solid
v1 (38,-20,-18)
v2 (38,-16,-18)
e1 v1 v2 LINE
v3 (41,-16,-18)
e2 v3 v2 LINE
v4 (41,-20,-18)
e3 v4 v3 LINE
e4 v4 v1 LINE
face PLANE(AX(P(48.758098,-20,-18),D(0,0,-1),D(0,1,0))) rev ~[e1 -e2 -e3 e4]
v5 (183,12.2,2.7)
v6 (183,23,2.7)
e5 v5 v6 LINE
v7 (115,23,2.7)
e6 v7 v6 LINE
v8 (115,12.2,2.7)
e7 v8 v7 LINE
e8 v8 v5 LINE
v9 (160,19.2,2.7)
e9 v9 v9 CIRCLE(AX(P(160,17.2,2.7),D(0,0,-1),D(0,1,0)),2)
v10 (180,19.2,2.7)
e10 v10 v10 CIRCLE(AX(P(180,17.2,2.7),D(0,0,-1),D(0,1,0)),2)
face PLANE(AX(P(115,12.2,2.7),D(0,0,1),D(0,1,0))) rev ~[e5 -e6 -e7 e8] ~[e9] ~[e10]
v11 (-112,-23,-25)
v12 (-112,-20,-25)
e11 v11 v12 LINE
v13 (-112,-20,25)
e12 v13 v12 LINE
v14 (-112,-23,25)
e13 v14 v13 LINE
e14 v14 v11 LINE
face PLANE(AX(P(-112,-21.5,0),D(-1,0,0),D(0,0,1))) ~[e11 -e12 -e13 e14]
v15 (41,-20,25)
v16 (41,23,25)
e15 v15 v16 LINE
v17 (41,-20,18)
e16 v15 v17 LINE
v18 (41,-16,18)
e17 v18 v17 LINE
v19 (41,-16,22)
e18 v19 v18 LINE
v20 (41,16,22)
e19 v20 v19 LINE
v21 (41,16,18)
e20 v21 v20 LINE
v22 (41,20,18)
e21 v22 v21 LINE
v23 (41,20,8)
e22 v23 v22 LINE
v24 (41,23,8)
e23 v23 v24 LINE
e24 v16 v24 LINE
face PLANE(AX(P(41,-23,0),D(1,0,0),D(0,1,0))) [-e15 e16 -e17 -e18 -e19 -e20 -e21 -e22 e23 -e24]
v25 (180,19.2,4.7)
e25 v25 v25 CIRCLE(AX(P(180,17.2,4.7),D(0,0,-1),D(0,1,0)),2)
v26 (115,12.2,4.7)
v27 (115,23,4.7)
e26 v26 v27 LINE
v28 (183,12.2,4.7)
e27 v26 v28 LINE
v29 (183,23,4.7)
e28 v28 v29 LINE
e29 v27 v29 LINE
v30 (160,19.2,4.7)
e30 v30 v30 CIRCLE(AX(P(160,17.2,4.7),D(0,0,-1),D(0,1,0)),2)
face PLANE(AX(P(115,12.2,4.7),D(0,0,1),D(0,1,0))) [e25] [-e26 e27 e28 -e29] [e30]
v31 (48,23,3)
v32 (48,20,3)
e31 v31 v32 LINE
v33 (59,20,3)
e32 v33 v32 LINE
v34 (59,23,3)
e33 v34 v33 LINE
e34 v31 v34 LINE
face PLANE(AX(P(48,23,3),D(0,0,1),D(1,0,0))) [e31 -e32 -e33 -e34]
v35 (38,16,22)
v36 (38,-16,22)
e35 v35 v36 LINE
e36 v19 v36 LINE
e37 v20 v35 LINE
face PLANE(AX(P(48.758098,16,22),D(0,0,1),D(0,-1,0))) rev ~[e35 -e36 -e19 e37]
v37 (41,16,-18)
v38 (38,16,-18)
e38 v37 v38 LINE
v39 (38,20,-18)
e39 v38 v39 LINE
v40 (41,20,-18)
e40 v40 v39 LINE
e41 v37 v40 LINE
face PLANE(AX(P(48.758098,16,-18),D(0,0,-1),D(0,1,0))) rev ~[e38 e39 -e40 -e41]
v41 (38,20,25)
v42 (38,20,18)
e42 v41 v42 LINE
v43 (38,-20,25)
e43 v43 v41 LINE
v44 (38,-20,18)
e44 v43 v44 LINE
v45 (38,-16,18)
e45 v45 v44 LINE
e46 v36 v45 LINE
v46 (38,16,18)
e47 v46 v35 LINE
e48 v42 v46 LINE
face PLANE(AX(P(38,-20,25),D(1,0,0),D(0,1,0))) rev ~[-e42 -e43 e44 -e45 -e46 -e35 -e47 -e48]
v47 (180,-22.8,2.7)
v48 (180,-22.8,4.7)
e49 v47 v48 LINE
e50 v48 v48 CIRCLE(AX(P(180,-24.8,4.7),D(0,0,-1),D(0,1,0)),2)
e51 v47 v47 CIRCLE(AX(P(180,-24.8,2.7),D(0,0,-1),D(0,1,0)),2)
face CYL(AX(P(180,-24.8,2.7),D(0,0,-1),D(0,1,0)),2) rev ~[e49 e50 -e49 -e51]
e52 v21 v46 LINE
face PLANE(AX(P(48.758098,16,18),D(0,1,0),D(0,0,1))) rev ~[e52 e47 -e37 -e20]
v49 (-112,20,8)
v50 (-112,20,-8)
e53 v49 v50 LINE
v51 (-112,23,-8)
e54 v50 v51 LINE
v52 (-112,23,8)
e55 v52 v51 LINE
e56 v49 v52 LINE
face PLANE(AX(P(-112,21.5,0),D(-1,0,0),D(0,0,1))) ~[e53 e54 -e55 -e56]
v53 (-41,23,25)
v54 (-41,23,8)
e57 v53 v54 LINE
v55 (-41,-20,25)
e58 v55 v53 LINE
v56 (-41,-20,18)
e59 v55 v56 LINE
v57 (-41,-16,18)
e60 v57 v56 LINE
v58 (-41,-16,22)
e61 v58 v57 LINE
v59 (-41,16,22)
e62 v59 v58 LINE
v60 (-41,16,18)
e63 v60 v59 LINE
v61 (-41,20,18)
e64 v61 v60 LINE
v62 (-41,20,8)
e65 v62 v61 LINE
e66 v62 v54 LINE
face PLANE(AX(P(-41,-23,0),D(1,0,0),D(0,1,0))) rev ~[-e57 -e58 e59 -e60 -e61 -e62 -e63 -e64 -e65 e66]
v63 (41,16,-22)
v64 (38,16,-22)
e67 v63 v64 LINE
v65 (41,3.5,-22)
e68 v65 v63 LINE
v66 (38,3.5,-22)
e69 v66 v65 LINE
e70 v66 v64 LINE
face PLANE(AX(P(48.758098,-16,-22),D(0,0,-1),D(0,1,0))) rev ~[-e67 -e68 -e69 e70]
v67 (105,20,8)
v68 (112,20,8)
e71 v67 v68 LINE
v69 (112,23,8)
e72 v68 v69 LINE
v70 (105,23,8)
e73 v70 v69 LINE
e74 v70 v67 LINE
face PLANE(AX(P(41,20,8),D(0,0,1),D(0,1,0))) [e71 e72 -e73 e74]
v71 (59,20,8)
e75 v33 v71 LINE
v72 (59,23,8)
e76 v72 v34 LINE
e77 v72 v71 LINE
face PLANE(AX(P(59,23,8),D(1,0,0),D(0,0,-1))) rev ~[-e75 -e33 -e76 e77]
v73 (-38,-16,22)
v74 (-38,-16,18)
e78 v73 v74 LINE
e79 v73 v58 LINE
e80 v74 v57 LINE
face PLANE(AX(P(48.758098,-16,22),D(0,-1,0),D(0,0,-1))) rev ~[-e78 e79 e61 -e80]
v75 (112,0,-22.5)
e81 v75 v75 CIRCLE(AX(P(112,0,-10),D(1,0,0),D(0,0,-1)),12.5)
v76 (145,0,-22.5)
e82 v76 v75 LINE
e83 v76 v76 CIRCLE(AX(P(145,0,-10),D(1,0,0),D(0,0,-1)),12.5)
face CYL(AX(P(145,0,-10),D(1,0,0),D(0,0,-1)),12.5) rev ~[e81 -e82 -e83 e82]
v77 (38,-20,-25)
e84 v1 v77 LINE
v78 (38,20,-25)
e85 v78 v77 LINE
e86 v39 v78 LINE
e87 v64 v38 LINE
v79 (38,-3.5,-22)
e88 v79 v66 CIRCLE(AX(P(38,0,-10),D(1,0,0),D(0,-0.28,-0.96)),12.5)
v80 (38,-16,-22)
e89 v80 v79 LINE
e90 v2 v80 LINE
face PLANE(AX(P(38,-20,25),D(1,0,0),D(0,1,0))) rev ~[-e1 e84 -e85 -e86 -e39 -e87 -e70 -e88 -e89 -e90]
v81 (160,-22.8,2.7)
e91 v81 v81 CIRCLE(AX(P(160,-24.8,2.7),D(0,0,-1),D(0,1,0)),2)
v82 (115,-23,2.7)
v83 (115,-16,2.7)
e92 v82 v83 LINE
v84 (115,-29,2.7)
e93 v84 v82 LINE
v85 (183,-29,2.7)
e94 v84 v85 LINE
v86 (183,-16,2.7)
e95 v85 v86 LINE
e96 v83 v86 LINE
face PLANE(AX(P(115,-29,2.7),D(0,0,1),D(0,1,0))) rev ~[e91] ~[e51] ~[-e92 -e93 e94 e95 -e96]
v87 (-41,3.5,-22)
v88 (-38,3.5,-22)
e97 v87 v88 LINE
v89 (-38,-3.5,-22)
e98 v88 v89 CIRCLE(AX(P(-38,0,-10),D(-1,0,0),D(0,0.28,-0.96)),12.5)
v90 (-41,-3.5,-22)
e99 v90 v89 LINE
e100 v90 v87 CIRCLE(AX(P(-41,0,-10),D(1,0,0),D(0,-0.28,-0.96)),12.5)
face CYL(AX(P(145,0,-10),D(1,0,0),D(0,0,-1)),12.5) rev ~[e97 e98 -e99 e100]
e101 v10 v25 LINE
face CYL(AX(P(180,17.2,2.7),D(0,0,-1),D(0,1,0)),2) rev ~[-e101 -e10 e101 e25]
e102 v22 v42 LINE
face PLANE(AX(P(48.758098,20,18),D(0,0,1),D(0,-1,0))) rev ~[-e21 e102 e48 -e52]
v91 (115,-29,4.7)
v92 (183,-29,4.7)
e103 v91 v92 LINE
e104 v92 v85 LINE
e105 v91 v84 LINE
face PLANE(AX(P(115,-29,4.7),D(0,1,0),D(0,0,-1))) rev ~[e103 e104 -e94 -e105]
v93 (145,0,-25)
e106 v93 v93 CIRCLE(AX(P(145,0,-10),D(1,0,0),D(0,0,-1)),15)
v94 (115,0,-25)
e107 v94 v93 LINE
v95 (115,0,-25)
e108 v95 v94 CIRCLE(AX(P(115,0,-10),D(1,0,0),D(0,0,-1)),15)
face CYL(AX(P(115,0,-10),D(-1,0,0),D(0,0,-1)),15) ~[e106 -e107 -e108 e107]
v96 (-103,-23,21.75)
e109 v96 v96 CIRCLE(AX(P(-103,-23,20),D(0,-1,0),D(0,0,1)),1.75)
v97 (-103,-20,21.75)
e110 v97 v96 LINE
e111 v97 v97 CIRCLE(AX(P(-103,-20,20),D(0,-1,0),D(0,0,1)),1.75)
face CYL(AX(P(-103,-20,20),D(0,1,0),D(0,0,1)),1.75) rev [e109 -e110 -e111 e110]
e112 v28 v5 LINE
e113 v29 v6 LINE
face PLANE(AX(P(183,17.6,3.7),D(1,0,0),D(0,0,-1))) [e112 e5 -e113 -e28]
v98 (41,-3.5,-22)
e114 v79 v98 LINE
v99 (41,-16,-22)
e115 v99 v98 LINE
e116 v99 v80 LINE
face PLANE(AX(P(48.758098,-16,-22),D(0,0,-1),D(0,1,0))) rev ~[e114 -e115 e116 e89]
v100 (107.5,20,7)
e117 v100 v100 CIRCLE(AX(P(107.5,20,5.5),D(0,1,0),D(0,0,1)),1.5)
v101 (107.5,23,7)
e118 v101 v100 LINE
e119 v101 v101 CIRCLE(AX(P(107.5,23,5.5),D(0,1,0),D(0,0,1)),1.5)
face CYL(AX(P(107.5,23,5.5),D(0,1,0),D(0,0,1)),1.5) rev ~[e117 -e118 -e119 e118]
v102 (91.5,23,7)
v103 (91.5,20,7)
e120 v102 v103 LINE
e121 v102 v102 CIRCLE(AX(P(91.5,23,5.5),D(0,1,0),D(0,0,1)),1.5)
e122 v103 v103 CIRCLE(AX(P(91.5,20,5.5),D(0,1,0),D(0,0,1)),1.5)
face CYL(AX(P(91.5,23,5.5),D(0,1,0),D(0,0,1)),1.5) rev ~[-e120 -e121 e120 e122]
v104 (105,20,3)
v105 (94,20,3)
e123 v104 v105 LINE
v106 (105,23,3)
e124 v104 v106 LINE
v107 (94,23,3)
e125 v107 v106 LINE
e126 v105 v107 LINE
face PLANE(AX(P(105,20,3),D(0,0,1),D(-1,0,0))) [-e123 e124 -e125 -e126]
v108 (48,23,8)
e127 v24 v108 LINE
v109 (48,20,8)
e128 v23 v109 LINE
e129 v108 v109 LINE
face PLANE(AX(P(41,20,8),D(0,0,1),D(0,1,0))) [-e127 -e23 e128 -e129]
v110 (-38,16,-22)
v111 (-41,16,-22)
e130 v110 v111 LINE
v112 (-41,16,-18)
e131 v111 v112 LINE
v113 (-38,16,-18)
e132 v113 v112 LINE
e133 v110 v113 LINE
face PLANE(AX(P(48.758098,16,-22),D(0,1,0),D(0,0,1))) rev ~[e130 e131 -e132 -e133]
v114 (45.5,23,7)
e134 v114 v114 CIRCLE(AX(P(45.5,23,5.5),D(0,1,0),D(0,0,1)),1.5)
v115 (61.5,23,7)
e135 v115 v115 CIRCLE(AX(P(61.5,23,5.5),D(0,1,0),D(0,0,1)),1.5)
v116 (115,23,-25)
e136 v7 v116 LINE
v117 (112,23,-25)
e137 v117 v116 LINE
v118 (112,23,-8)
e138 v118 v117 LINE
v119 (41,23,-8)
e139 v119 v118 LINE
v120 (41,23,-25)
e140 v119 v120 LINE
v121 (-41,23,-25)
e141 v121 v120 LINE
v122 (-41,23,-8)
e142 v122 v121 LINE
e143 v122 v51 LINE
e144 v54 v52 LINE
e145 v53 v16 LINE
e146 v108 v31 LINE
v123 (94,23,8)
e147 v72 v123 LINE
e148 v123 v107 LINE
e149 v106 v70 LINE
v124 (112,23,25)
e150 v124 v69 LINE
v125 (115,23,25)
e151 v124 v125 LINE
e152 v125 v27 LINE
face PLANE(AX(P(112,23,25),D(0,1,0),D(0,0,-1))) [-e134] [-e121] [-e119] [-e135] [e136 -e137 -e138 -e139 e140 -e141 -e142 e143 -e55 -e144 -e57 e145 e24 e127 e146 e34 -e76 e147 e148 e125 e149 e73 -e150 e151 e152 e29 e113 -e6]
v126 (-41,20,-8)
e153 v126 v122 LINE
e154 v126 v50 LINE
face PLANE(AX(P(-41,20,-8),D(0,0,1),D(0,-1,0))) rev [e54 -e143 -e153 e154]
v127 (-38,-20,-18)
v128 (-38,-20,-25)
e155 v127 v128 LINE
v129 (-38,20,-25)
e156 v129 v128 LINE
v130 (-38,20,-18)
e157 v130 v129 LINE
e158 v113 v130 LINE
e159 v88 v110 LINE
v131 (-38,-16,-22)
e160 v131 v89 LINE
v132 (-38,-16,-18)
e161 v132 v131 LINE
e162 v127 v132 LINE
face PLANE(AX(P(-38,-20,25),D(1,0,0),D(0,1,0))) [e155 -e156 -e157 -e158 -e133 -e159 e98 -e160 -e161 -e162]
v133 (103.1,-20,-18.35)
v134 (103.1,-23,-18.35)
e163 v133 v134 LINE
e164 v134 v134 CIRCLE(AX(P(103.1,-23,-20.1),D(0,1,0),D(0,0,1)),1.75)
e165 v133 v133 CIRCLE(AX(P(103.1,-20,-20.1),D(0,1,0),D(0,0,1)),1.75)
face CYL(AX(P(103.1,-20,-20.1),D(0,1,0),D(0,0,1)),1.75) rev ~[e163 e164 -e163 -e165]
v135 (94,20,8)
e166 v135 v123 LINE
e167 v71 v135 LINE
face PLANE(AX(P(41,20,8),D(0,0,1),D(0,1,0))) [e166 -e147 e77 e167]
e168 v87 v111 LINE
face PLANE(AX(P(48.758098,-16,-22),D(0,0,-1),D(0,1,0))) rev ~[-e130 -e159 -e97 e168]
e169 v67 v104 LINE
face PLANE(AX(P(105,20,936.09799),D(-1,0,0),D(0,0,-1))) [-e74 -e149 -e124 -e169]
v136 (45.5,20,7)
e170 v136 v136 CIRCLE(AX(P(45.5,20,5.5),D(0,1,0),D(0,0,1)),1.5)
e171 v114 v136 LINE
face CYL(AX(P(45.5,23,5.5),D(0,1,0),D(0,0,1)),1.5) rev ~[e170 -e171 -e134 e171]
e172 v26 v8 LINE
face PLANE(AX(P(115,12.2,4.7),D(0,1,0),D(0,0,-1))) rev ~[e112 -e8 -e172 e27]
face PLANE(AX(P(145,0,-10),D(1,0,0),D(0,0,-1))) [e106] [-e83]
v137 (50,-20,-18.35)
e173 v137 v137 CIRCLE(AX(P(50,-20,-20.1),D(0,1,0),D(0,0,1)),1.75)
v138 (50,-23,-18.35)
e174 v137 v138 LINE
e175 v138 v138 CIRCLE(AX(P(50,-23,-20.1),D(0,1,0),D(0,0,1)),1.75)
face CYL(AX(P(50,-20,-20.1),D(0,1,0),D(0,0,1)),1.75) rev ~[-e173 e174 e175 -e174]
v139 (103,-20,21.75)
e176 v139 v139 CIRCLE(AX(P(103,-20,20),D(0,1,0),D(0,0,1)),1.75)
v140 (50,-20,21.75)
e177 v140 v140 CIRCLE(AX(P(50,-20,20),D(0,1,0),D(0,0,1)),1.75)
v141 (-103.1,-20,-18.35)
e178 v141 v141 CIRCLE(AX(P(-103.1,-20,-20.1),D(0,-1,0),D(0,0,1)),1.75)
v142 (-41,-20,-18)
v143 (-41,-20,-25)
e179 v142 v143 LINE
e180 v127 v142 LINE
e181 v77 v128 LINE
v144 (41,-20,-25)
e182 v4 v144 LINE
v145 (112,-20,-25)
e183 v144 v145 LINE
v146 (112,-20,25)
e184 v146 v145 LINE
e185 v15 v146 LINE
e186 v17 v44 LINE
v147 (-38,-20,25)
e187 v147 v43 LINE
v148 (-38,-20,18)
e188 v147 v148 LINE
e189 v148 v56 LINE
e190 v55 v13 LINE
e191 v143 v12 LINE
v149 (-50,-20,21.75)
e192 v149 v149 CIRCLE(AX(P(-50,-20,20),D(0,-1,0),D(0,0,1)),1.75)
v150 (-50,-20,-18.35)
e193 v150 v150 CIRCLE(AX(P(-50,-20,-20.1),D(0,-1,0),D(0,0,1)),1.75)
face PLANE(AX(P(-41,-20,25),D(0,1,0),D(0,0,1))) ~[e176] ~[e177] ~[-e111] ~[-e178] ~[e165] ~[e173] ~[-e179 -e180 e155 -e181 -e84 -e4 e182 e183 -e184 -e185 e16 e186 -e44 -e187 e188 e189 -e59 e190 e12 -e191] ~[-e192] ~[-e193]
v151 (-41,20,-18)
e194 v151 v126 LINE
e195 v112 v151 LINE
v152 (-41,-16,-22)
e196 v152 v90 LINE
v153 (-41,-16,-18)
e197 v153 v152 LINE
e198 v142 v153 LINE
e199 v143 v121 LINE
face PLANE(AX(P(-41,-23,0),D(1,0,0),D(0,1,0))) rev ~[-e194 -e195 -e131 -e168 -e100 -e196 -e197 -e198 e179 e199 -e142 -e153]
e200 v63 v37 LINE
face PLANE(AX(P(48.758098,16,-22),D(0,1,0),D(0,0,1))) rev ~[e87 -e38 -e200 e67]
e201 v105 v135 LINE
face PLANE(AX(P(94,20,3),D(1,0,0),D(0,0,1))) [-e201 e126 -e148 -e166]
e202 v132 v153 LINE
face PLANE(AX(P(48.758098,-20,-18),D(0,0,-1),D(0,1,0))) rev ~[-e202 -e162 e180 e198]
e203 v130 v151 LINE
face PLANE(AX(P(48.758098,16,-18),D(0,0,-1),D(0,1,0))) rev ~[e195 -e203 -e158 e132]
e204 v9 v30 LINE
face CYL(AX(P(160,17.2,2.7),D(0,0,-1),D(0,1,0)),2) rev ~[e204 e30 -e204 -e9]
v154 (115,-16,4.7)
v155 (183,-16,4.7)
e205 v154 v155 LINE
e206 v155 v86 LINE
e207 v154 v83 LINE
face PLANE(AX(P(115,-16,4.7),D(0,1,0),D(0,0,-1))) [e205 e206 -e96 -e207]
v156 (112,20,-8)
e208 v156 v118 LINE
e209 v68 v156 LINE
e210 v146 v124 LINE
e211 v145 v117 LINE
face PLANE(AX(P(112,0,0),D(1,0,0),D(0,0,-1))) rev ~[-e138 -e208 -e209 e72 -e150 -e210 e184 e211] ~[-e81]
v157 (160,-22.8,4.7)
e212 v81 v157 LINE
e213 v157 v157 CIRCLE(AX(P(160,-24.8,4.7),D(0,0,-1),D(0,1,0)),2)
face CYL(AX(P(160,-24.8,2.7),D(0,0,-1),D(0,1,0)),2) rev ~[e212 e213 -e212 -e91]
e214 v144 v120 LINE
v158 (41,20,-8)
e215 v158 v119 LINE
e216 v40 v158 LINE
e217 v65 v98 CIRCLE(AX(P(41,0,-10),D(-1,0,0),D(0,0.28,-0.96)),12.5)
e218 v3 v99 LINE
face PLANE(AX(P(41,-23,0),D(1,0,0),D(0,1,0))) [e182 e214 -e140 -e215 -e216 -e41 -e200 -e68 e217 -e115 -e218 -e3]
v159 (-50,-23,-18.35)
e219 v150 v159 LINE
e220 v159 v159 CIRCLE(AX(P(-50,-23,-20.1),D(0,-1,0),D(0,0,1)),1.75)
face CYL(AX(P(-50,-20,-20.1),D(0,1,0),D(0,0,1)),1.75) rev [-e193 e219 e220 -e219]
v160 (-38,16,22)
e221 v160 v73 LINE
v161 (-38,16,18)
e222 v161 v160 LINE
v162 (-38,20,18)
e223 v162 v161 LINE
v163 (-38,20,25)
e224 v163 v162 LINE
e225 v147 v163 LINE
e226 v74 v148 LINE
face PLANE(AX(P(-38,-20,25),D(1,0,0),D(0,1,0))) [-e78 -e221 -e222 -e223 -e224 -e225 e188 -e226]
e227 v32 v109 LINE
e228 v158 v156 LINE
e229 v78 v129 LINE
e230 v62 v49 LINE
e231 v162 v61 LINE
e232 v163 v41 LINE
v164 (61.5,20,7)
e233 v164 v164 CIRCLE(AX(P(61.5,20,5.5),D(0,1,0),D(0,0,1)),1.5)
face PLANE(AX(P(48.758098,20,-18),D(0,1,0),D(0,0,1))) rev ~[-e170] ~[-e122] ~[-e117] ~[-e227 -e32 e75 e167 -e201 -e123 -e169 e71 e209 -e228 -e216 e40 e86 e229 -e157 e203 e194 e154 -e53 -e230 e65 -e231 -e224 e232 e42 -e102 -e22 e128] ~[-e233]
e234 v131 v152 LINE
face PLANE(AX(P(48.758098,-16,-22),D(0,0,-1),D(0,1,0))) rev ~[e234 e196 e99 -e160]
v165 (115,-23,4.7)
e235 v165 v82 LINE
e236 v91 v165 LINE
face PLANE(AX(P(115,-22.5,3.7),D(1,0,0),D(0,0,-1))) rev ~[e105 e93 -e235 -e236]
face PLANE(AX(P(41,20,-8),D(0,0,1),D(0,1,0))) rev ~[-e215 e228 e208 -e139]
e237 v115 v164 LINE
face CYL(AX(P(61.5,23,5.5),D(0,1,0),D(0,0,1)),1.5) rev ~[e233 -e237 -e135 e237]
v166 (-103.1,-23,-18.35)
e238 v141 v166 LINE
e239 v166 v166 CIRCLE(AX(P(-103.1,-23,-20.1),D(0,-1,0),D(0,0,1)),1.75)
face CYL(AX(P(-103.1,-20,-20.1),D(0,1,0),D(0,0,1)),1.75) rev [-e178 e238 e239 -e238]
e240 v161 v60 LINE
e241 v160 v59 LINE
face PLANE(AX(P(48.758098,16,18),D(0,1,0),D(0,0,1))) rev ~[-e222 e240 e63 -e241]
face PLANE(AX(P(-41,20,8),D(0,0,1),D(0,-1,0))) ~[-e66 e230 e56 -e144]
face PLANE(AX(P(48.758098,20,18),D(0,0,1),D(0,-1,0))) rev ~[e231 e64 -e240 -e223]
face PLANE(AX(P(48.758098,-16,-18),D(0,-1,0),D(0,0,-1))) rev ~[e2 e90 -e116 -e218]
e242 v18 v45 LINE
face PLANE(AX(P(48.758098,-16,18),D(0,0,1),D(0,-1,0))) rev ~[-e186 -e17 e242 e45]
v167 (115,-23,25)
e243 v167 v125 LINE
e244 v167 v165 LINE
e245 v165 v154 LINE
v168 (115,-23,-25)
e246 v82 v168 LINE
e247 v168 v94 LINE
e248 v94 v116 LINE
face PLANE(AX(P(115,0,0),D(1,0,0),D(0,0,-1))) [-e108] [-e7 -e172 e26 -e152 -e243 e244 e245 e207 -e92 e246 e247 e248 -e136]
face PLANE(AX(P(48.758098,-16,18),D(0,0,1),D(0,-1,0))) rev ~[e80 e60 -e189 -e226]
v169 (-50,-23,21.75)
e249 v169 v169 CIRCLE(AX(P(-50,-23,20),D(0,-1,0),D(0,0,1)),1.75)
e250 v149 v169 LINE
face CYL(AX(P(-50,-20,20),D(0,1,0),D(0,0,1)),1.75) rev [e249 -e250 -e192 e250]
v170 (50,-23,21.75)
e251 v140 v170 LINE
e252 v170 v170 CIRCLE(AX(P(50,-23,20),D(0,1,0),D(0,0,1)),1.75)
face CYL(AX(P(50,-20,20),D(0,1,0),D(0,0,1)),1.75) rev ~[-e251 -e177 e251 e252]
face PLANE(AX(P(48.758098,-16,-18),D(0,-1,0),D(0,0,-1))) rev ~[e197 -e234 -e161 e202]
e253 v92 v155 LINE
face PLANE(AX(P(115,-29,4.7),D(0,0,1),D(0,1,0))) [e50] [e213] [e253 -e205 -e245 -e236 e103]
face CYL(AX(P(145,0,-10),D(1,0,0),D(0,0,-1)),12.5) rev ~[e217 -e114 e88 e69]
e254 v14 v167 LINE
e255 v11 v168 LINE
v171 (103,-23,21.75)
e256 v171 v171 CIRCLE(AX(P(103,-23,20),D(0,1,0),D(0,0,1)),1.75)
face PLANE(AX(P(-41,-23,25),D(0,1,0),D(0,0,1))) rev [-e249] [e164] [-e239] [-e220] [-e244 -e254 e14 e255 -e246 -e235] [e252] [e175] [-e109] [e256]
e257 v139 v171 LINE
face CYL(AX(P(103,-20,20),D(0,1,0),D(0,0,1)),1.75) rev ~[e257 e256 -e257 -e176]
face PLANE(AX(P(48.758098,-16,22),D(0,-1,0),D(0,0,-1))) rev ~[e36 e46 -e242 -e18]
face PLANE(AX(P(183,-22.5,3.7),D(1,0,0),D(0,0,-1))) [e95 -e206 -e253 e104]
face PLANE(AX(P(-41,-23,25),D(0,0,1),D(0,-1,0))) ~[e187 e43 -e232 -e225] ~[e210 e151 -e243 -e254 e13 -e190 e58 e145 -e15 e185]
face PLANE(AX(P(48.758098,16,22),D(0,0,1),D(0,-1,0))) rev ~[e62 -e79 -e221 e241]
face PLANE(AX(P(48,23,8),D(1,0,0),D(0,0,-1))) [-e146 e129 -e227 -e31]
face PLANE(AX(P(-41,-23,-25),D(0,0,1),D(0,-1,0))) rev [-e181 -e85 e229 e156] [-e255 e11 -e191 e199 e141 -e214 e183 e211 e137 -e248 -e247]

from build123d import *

# Parameters (mm, degrees)
SKETCH1_W               = 82
SKETCH1_H               = 46
BOSS_EXTRUDE1_DEPTH     = 25
CUT_EXTRUDE1_REACH      = 70.629
SKETCH2_W               = 76
SKETCH2_H               = 40
CUT_EXTRUDE2_DEPTH      = 89.758098222
CUT_EXTRUDE2_DEPTH_BACK = 89.758098222
SKETCH4_W               = 50
SKETCH4_H               = 3
BOSS_EXTRUDE2_DEPTH     = 71
CUT_EXTRUDE3_REACH      = 124.548
SKETCH5_R               = 1.75
SKETCH7_W               = 16
SKETCH7_H               = 3
BOSS_EXTRUDE4_DEPTH     = 71
SKETCH8_W               = 50
SKETCH8_H               = 46
BOSS_EXTRUDE5_DEPTH     = 3
CUT_EXTRUDE4_DEPTH      = 127.356638132
CUT_EXTRUDE4_DEPTH_BACK = 3
CUT_EXTRUDE5_REACH      = 128.357
SKETCH10_W              = 11
SKETCH10_H              = 5
CUT_EXTRUDE6_REACH      = 128.357
SKETCH11_R              = 1.5
SKETCH12_R              = 15
BOSS_EXTRUDE6_DEPTH     = 30
SKETCH13_R              = 12.5
CUT_EXTRUDE7_DEPTH      = 190.076704012
SKETCH14_W              = 2
SKETCH14_H              = 10.8
SKETCH14_H_2            = 13
BOSS_EXTRUDE7_DEPTH     = 68
CUT_EXTRUDE8_REACH      = 189.343
SKETCH15_R              = 2


with BuildPart() as part:
    # Sketch1 → Boss-Extrude1 (new, symmetric)
    with BuildSketch(Plane.XY):
        Rectangle(SKETCH1_W, SKETCH1_H)
    extrude(amount=BOSS_EXTRUDE1_DEPTH, both=True)

    # Sketch2 → Cut-Extrude1 (cut, up to next)
    with BuildSketch(Plane.XY.offset(25), mode=Mode.PRIVATE) as cut_extrude1_sk1:
        Rectangle(SKETCH2_W, SKETCH2_H)
    cut_extrude1_tool1 = extrude(cut_extrude1_sk1.sketch, amount=-CUT_EXTRUDE1_REACH, mode=Mode.PRIVATE) & part.part
    add(cut_extrude1_tool1.solids().sort_by_distance((0, 0, 25))[0], mode=Mode.SUBTRACT)

    # Sketch3 → Cut-Extrude2 (cut, two sides: drawn at the far end of the back side and taken through both)
    with BuildSketch(Plane.ZY.offset(41).offset(-CUT_EXTRUDE2_DEPTH_BACK)):
        Polygon((-18, 16), (-18, 20), (18, 20), (18, 16), (22, 16), (22, -16), (18, -16), (18, -20), (-18, -20), (-18, -16), (-22, -16), (-22, 16), align=None)
    extrude(amount=CUT_EXTRUDE2_DEPTH + CUT_EXTRUDE2_DEPTH_BACK, mode=Mode.SUBTRACT)

    # Sketch4 → Boss-Extrude2 (add)
    with BuildSketch(Plane(origin=(41, 0, 0), x_dir=(0, 0, -1), z_dir=(1, 0, 0))):
        with Locations((0, -21.5)):
            Rectangle(SKETCH4_W, SKETCH4_H)
    boss_extrude2 = extrude(amount=BOSS_EXTRUDE2_DEPTH)

    # Sketch5 → Cut-Extrude3 (cut, up to next)
    with BuildSketch(Plane(origin=(0, -20, 0), x_dir=(1, 0, 0), z_dir=(0, 1, 0)), mode=Mode.PRIVATE) as cut_extrude3_sk1:
        with Locations(Location((103.1, 20.1, 0), (0, 0, 270))):
            Circle(SKETCH5_R)
    cut_extrude3_tool1 = extrude(cut_extrude3_sk1.sketch, amount=-CUT_EXTRUDE3_REACH, mode=Mode.PRIVATE) & part.part
    # Sketch5 → Cut-Extrude3 (cut, up to next)
    with BuildSketch(Plane(origin=(0, -20, 0), x_dir=(1, 0, 0), z_dir=(0, 1, 0)), mode=Mode.PRIVATE) as cut_extrude3_sk2:
        with Locations(Location((103, -20, 0), (0, 0, 270))):
            Circle(SKETCH5_R)
    cut_extrude3_tool2 = extrude(cut_extrude3_sk2.sketch, amount=-CUT_EXTRUDE3_REACH, mode=Mode.PRIVATE) & part.part
    # Sketch5 → Cut-Extrude3 (cut, up to next)
    with BuildSketch(Plane(origin=(0, -20, 0), x_dir=(1, 0, 0), z_dir=(0, 1, 0)), mode=Mode.PRIVATE) as cut_extrude3_sk3:
        with Locations(Location((50, 20.1, 0), (0, 0, 270))):
            Circle(SKETCH5_R)
    cut_extrude3_tool3 = extrude(cut_extrude3_sk3.sketch, amount=-CUT_EXTRUDE3_REACH, mode=Mode.PRIVATE) & part.part
    # Sketch5 → Cut-Extrude3 (cut, up to next)
    with BuildSketch(Plane(origin=(0, -20, 0), x_dir=(1, 0, 0), z_dir=(0, 1, 0)), mode=Mode.PRIVATE) as cut_extrude3_sk4:
        with Locations(Location((50, -20, 0), (0, 0, 270))):
            Circle(SKETCH5_R)
    cut_extrude3_tool4 = extrude(cut_extrude3_sk4.sketch, amount=-CUT_EXTRUDE3_REACH, mode=Mode.PRIVATE) & part.part
    cut_extrude3_1 = cut_extrude3_tool1.solids().sort_by_distance((103.1, -20, -20.1))[0]
    add(cut_extrude3_1, mode=Mode.SUBTRACT)
    cut_extrude3_2 = cut_extrude3_tool2.solids().sort_by_distance((103, -20, 20))[0]
    add(cut_extrude3_2, mode=Mode.SUBTRACT)
    cut_extrude3_3 = cut_extrude3_tool3.solids().sort_by_distance((50, -20, -20.1))[0]
    add(cut_extrude3_3, mode=Mode.SUBTRACT)
    cut_extrude3_4 = cut_extrude3_tool4.solids().sort_by_distance((50, -20, 20))[0]
    add(cut_extrude3_4, mode=Mode.SUBTRACT)
    cut_extrude3 = cut_extrude3_1 + cut_extrude3_2 + cut_extrude3_3 + cut_extrude3_4  # Cut-Extrude3 as one shape, for the pattern or mirror that repeats it

    # Sketch7 → Boss-Extrude4 (add)
    with BuildSketch(Plane(origin=(41, 0, 0), x_dir=(0, 0, -1), z_dir=(1, 0, 0))):
        with Locations((0, 21.5)):
            Rectangle(SKETCH7_W, SKETCH7_H)
    boss_extrude4 = extrude(amount=BOSS_EXTRUDE4_DEPTH)

    # Sketch8 → Boss-Extrude5 (add)
    with BuildSketch(Plane(origin=(112, 0, 0), x_dir=(0, 0, -1), z_dir=(1, 0, 0))):
        Rectangle(SKETCH8_W, SKETCH8_H)
    extrude(amount=BOSS_EXTRUDE5_DEPTH)

    # Sketch9 → Cut-Extrude4 (cut, two sides: drawn at the far end of the back side and taken through both)
    with BuildSketch(Plane(origin=(0, 23, 0), x_dir=(1, 0, 0), z_dir=(0, 1, 0)).offset(-CUT_EXTRUDE4_DEPTH_BACK)):
        Polygon((105, -317.365996733), (105, -8), (105, -3), (94, -3), (94, -8), (94, -317.365996733), (94, -936.097990199), (105, -936.097990199), align=None)
    extrude(amount=CUT_EXTRUDE4_DEPTH + CUT_EXTRUDE4_DEPTH_BACK, mode=Mode.SUBTRACT)

    # Sketch10 → Cut-Extrude5 (cut, up to next)
    with BuildSketch(Plane(origin=(0, 23, 0), x_dir=(1, 0, 0), z_dir=(0, 1, 0)), mode=Mode.PRIVATE) as cut_extrude5_sk1:
        with Locations((53.5, -5.5)):
            Rectangle(SKETCH10_W, SKETCH10_H)
    cut_extrude5_tool1 = extrude(cut_extrude5_sk1.sketch, amount=-CUT_EXTRUDE5_REACH, mode=Mode.PRIVATE) & part.part
    add(cut_extrude5_tool1.solids().sort_by_distance((53.5, 23, 5.5))[0], mode=Mode.SUBTRACT)

    # Sketch11 → Cut-Extrude6 (cut, up to next)
    with BuildSketch(Plane(origin=(0, 23, 0), x_dir=(1, 0, 0), z_dir=(0, 1, 0)), mode=Mode.PRIVATE) as cut_extrude6_sk1:
        with Locations(Location((45.5, -5.5, 0), (0, 0, 270))):
            Circle(SKETCH11_R)
    cut_extrude6_tool1 = extrude(cut_extrude6_sk1.sketch, amount=-CUT_EXTRUDE6_REACH, mode=Mode.PRIVATE) & part.part
    # Sketch11 → Cut-Extrude6 (cut, up to next)
    with BuildSketch(Plane(origin=(0, 23, 0), x_dir=(1, 0, 0), z_dir=(0, 1, 0)), mode=Mode.PRIVATE) as cut_extrude6_sk2:
        with Locations(Location((61.5, -5.5, 0), (0, 0, 270))):
            Circle(SKETCH11_R)
    cut_extrude6_tool2 = extrude(cut_extrude6_sk2.sketch, amount=-CUT_EXTRUDE6_REACH, mode=Mode.PRIVATE) & part.part
    # Sketch11 → Cut-Extrude6 (cut, up to next)
    with BuildSketch(Plane(origin=(0, 23, 0), x_dir=(1, 0, 0), z_dir=(0, 1, 0)), mode=Mode.PRIVATE) as cut_extrude6_sk3:
        with Locations(Location((91.5, -5.5, 0), (0, 0, 270))):
            Circle(SKETCH11_R)
    cut_extrude6_tool3 = extrude(cut_extrude6_sk3.sketch, amount=-CUT_EXTRUDE6_REACH, mode=Mode.PRIVATE) & part.part
    # Sketch11 → Cut-Extrude6 (cut, up to next)
    with BuildSketch(Plane(origin=(0, 23, 0), x_dir=(1, 0, 0), z_dir=(0, 1, 0)), mode=Mode.PRIVATE) as cut_extrude6_sk4:
        with Locations(Location((107.5, -5.5, 0), (0, 0, 270))):
            Circle(SKETCH11_R)
    cut_extrude6_tool4 = extrude(cut_extrude6_sk4.sketch, amount=-CUT_EXTRUDE6_REACH, mode=Mode.PRIVATE) & part.part
    add(cut_extrude6_tool1.solids().sort_by_distance((45.5, 23, 5.5))[0], mode=Mode.SUBTRACT)
    add(cut_extrude6_tool2.solids().sort_by_distance((61.5, 23, 5.5))[0], mode=Mode.SUBTRACT)
    add(cut_extrude6_tool3.solids().sort_by_distance((91.5, 23, 5.5))[0], mode=Mode.SUBTRACT)
    add(cut_extrude6_tool4.solids().sort_by_distance((107.5, 23, 5.5))[0], mode=Mode.SUBTRACT)

    # Sketch12 → Boss-Extrude6 (add)
    with BuildSketch(Plane(origin=(115, 0, 0), x_dir=(0, 0, -1), z_dir=(1, 0, 0))):
        with Locations((10, 0)):
            Circle(SKETCH12_R)
    extrude(amount=BOSS_EXTRUDE6_DEPTH)

    # Sketch13 → Cut-Extrude7 (cut, through all)
    with BuildSketch(Plane(origin=(145, 0, 0), x_dir=(0, 0, -1), z_dir=(1, 0, 0))):
        with Locations((10, 0)):
            Circle(SKETCH13_R)
    extrude(amount=-CUT_EXTRUDE7_DEPTH, mode=Mode.SUBTRACT)

    # Sketch14 → Boss-Extrude7 (add)
    with BuildSketch(Plane(origin=(115, 0, 0), x_dir=(0, 0, -1), z_dir=(1, 0, 0))):
        with Locations((-3.7, 17.6)):
            Rectangle(SKETCH14_W, SKETCH14_H)
        with Locations((-3.7, -22.5)):
            Rectangle(SKETCH14_W, SKETCH14_H_2)
    extrude(amount=BOSS_EXTRUDE7_DEPTH)

    # Sketch15 → Cut-Extrude8 (cut, up to next)
    with BuildSketch(Plane(origin=(0, 0, 2.7), x_dir=(-1, 0, 0), z_dir=(0, 0, -1)), mode=Mode.PRIVATE) as cut_extrude8_sk1:
        with Locations(Location((-180, -24.8, 0), (0, 0, 90))):
            Circle(SKETCH15_R)
    cut_extrude8_tool1 = extrude(cut_extrude8_sk1.sketch, amount=-CUT_EXTRUDE8_REACH, mode=Mode.PRIVATE) & part.part
    # Sketch15 → Cut-Extrude8 (cut, up to next)
    with BuildSketch(Plane(origin=(0, 0, 2.7), x_dir=(-1, 0, 0), z_dir=(0, 0, -1)), mode=Mode.PRIVATE) as cut_extrude8_sk2:
        with Locations(Location((-160, -24.8, 0), (0, 0, 90))):
            Circle(SKETCH15_R)
    cut_extrude8_tool2 = extrude(cut_extrude8_sk2.sketch, amount=-CUT_EXTRUDE8_REACH, mode=Mode.PRIVATE) & part.part
    # Sketch15 → Cut-Extrude8 (cut, up to next)
    with BuildSketch(Plane(origin=(0, 0, 2.7), x_dir=(-1, 0, 0), z_dir=(0, 0, -1)), mode=Mode.PRIVATE) as cut_extrude8_sk3:
        with Locations(Location((-160, 17.2, 0), (0, 0, 90))):
            Circle(SKETCH15_R)
    cut_extrude8_tool3 = extrude(cut_extrude8_sk3.sketch, amount=-CUT_EXTRUDE8_REACH, mode=Mode.PRIVATE) & part.part
    # Sketch15 → Cut-Extrude8 (cut, up to next)
    with BuildSketch(Plane(origin=(0, 0, 2.7), x_dir=(-1, 0, 0), z_dir=(0, 0, -1)), mode=Mode.PRIVATE) as cut_extrude8_sk4:
        with Locations(Location((-180, 17.2, 0), (0, 0, 90))):
            Circle(SKETCH15_R)
    cut_extrude8_tool4 = extrude(cut_extrude8_sk4.sketch, amount=-CUT_EXTRUDE8_REACH, mode=Mode.PRIVATE) & part.part
    add(cut_extrude8_tool1.solids().sort_by_distance((180, -24.8, 2.7))[0], mode=Mode.SUBTRACT)
    add(cut_extrude8_tool2.solids().sort_by_distance((160, -24.8, 2.7))[0], mode=Mode.SUBTRACT)
    add(cut_extrude8_tool3.solids().sort_by_distance((160, 17.2, 2.7))[0], mode=Mode.SUBTRACT)
    add(cut_extrude8_tool4.solids().sort_by_distance((180, 17.2, 2.7))[0], mode=Mode.SUBTRACT)

    # Mirror1: Boss-Extrude2, Cut-Extrude3, Boss-Extrude4 across plane
    add(boss_extrude2.mirror(Plane(origin=(0, 0, 0), x_dir=(0, 0, 1), z_dir=(1, 0, 0))))
    add(cut_extrude3.mirror(Plane(origin=(0, 0, 0), x_dir=(0, 0, 1), z_dir=(1, 0, 0))), mode=Mode.SUBTRACT)
    add(boss_extrude4.mirror(Plane(origin=(0, 0, 0), x_dir=(0, 0, 1), z_dir=(1, 0, 0))))


solid = part.part
